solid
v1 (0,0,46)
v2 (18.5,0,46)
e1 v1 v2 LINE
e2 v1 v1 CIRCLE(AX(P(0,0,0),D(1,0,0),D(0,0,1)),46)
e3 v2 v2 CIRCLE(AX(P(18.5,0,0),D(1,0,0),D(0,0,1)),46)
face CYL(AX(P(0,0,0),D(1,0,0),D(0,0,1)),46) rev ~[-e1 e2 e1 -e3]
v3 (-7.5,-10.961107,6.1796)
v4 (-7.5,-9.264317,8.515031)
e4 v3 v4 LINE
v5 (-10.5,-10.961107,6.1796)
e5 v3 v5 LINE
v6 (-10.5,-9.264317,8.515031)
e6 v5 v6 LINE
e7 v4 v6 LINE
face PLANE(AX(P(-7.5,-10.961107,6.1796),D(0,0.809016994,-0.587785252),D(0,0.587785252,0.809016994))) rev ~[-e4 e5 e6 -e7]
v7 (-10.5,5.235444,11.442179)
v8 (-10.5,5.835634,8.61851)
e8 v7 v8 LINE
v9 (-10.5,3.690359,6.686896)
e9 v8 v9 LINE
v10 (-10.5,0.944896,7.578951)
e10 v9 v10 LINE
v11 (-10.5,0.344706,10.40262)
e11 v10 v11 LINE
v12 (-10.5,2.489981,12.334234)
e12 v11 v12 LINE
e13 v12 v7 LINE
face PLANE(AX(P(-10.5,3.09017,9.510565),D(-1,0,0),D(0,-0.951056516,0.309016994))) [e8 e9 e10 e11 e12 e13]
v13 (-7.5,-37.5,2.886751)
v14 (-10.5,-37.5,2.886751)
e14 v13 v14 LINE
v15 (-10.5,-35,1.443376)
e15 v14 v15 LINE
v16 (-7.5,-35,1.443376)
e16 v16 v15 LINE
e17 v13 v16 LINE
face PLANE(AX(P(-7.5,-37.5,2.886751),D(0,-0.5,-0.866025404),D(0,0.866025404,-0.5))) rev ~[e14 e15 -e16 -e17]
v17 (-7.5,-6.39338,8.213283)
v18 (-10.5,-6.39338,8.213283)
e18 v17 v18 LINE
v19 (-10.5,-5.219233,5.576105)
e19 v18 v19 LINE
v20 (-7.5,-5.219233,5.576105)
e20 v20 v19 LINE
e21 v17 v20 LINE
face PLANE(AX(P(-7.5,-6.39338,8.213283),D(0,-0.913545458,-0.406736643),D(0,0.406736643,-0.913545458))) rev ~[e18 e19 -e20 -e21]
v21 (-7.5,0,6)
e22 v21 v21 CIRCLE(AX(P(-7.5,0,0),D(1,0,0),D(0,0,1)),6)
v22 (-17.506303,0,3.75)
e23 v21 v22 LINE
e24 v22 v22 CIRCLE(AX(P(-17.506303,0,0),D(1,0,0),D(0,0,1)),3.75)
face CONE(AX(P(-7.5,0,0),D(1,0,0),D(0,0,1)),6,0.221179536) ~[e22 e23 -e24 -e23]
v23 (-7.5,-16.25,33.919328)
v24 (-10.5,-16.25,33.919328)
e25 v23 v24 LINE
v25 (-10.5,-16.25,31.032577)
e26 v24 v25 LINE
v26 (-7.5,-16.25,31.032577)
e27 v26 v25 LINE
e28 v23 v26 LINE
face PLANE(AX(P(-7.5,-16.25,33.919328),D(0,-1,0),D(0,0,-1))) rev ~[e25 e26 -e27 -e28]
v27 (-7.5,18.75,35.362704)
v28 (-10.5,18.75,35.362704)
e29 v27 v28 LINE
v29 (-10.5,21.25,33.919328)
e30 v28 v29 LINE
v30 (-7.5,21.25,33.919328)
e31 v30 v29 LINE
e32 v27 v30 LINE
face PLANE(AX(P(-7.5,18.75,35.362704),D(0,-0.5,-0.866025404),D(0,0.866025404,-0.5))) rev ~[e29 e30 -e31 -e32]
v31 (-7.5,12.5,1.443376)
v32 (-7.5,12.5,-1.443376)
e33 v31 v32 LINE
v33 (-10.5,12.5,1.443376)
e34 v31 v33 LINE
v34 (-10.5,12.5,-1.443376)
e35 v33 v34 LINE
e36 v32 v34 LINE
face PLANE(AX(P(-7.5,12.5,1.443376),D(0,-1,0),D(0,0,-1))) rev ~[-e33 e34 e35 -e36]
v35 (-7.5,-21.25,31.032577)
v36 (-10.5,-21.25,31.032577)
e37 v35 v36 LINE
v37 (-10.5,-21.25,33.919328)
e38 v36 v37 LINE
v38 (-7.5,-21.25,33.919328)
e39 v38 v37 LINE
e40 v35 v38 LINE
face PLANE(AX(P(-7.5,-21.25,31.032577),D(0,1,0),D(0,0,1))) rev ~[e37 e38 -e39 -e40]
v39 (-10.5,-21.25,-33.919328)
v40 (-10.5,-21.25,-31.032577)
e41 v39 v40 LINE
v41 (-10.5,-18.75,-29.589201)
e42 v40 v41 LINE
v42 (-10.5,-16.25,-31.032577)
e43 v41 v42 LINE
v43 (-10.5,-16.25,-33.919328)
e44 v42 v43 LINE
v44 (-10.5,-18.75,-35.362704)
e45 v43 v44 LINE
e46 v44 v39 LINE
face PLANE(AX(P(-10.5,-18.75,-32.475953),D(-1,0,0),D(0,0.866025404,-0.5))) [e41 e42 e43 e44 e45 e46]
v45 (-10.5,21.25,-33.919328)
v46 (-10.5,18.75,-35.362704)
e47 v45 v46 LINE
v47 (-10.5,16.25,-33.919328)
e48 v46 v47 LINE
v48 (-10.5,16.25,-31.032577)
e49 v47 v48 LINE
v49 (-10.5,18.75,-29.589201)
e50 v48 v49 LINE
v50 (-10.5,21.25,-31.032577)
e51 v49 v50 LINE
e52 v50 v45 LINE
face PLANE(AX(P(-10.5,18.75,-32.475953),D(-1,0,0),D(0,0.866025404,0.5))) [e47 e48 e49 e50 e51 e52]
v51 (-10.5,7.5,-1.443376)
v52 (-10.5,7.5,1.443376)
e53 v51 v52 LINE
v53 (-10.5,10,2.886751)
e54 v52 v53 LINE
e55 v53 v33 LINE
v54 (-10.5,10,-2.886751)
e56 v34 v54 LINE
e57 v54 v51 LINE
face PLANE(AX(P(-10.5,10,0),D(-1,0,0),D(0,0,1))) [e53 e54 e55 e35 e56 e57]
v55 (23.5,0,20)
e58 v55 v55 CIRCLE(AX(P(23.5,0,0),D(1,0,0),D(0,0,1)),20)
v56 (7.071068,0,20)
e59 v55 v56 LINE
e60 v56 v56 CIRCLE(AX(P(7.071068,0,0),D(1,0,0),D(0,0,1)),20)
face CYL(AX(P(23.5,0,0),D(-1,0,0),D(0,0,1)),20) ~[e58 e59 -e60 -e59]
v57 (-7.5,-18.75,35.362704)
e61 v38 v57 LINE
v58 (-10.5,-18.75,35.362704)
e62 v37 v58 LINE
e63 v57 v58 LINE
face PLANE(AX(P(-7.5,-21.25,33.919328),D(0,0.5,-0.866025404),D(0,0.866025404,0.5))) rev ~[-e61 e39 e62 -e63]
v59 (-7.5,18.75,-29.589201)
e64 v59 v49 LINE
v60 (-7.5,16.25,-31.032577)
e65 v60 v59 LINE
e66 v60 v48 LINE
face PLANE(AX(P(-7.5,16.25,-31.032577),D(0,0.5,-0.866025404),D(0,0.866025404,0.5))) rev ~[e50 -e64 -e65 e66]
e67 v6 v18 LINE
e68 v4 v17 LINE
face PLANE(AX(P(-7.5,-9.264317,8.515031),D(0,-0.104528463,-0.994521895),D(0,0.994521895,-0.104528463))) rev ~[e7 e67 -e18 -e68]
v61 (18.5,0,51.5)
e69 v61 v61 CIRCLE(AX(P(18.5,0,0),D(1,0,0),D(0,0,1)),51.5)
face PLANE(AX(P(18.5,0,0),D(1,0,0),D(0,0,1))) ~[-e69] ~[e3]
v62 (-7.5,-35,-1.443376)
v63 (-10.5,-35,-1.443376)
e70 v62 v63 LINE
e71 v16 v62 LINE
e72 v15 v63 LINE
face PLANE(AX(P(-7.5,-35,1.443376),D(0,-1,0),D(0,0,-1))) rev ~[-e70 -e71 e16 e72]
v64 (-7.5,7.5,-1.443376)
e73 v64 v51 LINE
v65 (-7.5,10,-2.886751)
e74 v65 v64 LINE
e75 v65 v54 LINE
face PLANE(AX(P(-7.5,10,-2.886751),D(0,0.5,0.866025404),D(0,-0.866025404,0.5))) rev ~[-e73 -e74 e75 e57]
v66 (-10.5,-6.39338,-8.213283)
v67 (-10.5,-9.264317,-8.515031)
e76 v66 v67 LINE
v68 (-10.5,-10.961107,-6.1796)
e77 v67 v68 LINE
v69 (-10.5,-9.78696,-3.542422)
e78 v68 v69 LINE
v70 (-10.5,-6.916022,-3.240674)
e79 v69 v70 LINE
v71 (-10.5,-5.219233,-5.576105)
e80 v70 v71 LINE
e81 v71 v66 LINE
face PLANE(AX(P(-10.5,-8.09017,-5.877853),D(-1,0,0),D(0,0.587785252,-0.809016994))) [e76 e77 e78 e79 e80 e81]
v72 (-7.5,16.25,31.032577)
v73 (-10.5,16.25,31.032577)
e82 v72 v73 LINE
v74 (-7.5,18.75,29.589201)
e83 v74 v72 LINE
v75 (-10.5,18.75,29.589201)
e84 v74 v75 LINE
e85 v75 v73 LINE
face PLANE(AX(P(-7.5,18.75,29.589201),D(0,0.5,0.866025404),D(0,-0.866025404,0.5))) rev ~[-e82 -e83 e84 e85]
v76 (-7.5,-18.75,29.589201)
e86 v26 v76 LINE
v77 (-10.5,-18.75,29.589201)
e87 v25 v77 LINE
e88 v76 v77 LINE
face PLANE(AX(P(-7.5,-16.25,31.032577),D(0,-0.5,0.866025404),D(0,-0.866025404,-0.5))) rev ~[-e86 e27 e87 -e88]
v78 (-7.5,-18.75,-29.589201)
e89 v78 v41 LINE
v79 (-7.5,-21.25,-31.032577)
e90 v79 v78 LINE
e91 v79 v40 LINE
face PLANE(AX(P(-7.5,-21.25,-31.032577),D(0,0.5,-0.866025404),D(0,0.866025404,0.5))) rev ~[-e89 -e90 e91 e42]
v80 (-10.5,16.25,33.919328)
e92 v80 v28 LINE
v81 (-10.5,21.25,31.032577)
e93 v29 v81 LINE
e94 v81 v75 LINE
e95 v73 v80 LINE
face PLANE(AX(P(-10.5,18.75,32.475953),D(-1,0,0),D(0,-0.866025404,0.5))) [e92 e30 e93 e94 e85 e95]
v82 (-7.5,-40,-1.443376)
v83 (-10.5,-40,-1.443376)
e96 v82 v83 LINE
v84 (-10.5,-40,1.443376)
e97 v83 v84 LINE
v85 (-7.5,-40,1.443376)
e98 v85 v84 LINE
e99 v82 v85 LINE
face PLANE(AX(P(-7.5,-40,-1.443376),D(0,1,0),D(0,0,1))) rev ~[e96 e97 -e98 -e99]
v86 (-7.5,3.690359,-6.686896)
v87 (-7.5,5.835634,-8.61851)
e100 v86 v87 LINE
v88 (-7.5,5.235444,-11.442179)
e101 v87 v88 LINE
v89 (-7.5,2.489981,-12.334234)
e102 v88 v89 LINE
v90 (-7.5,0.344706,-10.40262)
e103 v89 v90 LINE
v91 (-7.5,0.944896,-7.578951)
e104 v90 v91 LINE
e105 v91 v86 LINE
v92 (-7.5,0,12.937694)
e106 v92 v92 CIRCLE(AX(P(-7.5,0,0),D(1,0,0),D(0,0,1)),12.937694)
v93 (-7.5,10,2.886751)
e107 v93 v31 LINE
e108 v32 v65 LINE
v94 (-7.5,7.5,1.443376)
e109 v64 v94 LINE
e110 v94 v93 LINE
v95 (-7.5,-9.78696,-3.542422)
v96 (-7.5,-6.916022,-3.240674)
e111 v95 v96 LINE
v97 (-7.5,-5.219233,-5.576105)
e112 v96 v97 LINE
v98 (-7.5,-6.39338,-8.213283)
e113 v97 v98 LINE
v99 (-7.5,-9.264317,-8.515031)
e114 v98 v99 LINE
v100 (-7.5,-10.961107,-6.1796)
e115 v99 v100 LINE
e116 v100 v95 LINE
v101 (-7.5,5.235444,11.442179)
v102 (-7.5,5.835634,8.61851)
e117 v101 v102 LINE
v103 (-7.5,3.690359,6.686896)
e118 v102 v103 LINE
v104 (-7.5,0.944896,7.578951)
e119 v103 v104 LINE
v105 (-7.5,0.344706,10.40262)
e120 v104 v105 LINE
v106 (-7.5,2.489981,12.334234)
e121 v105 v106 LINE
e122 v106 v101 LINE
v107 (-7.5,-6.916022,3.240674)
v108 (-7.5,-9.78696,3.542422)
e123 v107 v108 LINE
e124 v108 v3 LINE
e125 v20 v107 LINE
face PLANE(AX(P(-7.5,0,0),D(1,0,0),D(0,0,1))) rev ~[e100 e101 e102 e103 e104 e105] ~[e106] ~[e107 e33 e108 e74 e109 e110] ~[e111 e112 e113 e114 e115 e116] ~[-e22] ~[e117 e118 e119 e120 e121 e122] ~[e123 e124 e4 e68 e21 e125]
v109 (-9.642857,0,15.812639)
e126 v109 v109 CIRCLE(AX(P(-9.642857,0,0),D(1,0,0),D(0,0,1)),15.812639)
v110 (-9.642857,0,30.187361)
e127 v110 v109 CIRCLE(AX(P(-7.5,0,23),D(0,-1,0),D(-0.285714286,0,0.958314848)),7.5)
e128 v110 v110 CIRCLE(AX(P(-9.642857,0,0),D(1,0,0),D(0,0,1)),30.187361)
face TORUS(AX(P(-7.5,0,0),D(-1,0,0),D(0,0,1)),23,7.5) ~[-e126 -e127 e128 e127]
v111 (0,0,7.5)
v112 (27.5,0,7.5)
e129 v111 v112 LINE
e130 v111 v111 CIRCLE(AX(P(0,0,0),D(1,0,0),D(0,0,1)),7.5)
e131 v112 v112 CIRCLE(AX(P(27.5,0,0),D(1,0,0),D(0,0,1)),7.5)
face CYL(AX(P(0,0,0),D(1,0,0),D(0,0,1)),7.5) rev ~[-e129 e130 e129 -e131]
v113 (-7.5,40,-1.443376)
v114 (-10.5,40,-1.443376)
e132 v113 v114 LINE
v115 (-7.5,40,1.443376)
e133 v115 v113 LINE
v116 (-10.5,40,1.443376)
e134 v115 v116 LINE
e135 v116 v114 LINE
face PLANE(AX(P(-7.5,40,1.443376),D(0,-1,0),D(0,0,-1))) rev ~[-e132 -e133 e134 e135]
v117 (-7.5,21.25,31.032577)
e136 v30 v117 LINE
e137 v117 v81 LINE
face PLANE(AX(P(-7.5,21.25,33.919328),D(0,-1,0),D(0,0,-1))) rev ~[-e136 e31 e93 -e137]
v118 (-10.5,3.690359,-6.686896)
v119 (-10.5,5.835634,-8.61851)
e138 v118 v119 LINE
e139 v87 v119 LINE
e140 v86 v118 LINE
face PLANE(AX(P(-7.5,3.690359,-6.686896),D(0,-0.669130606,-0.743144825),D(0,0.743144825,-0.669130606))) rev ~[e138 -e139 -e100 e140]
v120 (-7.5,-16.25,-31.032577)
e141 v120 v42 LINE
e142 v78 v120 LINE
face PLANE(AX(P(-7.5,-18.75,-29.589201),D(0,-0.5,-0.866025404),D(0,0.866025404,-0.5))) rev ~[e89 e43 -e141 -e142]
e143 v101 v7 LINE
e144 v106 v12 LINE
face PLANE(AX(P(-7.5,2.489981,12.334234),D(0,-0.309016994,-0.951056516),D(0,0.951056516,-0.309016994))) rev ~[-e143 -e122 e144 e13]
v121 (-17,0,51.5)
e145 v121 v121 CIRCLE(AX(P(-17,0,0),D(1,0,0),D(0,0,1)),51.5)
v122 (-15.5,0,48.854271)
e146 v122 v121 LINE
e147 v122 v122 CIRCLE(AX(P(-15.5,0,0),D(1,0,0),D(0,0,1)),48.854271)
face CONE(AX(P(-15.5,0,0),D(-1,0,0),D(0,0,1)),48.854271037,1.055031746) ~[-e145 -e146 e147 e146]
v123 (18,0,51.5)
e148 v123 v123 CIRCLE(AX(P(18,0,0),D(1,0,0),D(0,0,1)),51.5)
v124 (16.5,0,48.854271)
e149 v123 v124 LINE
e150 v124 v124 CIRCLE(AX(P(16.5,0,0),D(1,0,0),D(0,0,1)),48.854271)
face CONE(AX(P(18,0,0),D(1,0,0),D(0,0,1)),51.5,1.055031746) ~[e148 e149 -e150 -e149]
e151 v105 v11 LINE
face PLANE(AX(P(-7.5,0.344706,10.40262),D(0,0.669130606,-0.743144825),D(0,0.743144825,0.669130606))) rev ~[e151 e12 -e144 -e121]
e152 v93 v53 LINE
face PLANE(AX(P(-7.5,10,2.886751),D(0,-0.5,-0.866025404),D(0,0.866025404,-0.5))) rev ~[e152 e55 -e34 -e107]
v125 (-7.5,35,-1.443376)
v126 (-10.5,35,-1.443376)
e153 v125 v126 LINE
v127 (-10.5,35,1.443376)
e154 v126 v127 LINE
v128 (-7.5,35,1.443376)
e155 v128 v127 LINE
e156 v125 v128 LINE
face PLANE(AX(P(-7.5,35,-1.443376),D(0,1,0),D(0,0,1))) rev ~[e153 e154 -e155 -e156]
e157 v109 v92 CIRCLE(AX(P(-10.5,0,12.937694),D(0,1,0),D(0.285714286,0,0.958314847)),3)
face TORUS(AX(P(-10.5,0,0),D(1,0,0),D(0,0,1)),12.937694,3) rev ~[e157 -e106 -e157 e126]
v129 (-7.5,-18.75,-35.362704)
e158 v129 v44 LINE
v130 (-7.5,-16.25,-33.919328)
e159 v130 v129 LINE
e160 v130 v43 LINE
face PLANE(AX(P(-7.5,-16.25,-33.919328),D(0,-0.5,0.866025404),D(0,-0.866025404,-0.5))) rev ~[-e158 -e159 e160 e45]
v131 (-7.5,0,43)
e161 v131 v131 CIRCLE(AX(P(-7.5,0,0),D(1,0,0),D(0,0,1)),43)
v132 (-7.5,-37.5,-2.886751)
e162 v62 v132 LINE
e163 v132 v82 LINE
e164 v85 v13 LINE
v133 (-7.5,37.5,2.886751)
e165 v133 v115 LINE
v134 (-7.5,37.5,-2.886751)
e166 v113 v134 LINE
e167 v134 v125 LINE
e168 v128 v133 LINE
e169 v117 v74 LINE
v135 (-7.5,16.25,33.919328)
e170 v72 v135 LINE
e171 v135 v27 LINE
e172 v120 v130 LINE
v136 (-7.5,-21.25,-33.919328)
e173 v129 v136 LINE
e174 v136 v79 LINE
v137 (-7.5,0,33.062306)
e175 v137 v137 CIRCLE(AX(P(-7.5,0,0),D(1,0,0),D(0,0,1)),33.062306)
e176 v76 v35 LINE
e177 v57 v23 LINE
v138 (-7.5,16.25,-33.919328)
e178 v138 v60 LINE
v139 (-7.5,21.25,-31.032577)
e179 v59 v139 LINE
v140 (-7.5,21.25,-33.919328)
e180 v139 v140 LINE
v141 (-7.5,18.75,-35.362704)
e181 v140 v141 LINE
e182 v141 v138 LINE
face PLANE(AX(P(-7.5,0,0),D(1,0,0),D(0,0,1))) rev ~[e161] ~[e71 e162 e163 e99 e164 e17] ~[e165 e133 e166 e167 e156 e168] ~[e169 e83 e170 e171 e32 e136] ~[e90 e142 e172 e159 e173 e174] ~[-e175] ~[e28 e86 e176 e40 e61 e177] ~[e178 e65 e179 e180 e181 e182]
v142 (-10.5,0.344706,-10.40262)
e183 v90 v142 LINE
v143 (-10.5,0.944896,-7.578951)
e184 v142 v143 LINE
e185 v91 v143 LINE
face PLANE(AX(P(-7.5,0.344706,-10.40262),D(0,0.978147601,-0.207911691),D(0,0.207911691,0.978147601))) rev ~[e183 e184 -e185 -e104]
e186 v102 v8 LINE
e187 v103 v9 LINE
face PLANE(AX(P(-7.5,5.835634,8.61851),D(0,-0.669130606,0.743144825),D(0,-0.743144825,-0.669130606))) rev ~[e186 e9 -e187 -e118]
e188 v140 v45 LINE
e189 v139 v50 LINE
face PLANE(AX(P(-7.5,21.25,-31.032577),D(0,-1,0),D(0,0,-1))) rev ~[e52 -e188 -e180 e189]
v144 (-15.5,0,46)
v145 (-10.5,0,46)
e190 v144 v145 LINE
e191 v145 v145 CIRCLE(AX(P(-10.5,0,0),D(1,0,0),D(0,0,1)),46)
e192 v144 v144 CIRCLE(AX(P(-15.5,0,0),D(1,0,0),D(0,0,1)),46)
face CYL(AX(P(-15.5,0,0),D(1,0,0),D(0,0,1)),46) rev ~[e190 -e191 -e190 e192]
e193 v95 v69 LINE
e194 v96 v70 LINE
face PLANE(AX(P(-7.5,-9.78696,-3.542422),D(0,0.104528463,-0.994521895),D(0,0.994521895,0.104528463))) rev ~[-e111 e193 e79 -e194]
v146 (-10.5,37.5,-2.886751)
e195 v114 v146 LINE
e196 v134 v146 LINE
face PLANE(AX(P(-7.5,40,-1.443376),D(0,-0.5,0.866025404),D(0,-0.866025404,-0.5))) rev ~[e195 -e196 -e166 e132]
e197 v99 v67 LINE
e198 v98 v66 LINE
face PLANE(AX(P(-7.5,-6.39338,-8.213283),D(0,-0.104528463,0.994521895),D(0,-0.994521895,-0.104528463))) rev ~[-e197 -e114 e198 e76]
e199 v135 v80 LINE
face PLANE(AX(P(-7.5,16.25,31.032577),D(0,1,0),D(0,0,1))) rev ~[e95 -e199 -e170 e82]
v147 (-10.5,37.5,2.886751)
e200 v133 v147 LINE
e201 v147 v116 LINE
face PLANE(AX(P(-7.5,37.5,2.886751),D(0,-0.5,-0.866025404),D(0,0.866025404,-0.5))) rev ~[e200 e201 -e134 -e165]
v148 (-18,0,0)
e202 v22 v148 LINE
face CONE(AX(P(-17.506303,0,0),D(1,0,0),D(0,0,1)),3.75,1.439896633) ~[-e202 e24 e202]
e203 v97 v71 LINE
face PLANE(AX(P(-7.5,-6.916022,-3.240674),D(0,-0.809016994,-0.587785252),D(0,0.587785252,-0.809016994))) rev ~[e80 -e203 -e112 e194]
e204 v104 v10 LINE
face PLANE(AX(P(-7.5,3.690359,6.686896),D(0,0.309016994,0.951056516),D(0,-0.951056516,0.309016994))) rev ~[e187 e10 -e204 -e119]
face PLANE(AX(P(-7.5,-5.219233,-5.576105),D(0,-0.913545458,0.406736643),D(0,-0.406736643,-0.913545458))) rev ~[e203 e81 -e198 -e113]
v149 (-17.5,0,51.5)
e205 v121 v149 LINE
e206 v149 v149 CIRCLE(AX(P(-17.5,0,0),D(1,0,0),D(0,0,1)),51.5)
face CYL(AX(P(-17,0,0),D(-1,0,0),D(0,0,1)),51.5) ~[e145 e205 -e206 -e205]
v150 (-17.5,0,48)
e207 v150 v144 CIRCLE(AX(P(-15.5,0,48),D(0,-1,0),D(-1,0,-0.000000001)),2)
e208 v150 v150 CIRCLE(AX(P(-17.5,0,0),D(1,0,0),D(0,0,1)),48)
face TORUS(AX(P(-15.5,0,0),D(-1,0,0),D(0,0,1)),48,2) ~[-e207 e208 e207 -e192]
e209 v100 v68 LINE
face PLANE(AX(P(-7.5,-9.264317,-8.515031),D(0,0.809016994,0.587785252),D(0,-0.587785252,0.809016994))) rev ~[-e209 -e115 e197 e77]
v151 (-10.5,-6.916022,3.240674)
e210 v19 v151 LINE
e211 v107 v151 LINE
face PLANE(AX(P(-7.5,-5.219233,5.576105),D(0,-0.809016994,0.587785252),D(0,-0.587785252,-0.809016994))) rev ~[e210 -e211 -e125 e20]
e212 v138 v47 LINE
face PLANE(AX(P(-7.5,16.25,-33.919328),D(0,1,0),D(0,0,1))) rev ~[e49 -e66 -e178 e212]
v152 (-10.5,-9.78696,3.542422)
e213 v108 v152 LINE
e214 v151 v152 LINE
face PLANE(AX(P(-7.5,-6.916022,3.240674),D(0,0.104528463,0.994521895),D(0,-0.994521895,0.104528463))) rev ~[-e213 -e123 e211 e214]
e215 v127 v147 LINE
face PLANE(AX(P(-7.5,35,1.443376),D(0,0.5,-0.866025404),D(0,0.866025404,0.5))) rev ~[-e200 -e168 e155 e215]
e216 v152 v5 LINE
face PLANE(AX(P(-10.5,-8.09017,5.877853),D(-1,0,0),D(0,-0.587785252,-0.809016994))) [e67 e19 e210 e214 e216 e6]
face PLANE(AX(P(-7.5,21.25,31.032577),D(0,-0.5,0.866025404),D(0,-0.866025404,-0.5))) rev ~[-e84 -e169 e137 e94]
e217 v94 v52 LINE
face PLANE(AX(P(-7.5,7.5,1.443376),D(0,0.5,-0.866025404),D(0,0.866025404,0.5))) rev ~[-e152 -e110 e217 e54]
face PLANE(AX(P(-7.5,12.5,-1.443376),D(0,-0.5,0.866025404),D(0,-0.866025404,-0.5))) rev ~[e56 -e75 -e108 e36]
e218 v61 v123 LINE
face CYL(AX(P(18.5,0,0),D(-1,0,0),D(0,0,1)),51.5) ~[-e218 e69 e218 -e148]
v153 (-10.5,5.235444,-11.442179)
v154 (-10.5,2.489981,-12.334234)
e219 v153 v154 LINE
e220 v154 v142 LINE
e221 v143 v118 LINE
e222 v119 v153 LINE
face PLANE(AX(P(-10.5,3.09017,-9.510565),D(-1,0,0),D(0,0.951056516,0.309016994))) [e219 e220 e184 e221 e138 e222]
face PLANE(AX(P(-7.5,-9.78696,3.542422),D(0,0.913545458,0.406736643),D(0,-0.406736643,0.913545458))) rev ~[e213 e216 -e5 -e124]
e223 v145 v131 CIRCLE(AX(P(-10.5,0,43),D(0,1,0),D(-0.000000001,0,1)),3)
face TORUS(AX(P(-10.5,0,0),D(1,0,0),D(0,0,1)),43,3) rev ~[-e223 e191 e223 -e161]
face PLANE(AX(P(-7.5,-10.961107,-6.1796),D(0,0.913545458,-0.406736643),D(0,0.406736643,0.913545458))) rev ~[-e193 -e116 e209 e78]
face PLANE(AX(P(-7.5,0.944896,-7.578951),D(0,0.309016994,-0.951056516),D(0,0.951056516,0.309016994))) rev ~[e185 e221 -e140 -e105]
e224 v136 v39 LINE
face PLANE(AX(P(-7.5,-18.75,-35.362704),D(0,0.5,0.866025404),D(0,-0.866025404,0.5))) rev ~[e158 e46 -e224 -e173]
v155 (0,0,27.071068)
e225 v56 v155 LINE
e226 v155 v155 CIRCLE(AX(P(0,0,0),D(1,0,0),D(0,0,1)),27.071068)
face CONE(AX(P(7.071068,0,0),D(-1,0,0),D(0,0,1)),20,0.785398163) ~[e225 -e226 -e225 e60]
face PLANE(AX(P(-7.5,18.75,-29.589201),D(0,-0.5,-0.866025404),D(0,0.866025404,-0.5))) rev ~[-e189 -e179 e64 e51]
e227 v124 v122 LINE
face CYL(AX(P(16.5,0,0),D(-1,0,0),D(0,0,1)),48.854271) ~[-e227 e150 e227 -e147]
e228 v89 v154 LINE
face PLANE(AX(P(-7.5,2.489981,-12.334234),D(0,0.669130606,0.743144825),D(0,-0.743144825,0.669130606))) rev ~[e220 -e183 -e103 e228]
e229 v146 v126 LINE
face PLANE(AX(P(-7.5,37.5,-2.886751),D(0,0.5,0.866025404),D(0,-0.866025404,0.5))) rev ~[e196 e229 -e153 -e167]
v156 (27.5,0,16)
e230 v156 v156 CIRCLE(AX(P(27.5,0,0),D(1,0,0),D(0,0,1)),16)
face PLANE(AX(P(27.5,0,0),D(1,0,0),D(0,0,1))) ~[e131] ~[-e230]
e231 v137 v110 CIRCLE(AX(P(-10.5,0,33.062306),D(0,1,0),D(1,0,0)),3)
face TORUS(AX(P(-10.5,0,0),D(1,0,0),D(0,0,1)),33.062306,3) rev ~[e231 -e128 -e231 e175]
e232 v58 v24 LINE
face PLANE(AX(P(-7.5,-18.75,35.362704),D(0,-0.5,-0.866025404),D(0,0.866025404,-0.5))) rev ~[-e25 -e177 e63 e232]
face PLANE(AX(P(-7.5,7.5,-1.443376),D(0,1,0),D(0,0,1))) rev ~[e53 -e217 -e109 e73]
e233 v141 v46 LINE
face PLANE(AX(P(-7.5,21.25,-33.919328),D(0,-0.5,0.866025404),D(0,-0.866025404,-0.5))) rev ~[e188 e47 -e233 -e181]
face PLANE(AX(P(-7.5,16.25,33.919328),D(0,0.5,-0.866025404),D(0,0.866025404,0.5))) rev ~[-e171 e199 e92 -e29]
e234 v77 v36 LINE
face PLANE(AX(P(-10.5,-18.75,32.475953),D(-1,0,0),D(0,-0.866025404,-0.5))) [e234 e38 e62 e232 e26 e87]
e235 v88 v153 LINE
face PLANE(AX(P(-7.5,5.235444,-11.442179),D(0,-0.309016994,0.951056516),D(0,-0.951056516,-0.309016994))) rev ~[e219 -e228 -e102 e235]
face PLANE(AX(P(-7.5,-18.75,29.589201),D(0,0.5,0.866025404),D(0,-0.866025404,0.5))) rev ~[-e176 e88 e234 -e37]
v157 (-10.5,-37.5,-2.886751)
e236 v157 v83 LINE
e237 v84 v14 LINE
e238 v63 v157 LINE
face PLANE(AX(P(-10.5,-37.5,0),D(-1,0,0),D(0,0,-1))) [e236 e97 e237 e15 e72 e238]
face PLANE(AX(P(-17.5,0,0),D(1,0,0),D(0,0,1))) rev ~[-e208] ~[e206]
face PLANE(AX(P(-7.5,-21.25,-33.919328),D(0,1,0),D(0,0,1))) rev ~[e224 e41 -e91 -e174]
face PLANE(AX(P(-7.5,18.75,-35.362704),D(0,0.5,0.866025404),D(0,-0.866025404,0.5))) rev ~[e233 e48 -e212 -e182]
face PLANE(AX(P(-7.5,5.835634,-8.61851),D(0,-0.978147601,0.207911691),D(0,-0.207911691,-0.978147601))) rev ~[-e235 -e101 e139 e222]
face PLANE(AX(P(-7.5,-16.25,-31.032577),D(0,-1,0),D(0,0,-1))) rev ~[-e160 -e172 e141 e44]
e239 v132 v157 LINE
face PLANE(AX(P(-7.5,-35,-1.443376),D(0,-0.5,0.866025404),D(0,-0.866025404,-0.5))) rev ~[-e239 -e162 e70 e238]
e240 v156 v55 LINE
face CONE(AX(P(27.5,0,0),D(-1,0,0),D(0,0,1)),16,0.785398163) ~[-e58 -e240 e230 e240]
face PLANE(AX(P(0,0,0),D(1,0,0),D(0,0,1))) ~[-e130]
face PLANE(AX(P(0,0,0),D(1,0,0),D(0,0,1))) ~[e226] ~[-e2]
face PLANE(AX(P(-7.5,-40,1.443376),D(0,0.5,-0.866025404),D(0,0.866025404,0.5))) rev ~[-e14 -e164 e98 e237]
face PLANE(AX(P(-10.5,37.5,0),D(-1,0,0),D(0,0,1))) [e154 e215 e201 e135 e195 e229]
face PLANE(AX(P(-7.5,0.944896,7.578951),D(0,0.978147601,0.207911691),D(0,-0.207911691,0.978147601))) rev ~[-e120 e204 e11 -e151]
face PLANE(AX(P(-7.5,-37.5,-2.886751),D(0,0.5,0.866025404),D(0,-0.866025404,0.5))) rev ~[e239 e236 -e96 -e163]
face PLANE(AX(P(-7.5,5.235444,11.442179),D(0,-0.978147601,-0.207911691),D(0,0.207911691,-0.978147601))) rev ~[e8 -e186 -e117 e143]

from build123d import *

# Parameters (mm, degrees)
BOSS_EXTRUDE1_DEPTH = 3
CIRPATTERN1_COUNT   = 6
BOSS_EXTRUDE2_DEPTH = 3
CIRPATTERN3_COUNT   = 5


with BuildPart() as part:
    # Sketch1 → Revolve1 (revolve)
    with BuildSketch(Plane.XY, mode=Mode.PRIVATE) as revolve1_sk:
        with BuildLine():
            Line((-7.5, 6), (-17.506303134, 3.75))
            Line((-17.506303134, 3.75), (-18, 0))
            Line((-18, 0), (0, 0))
            Line((0, 0), (0, 7.5))
            Line((0, 7.5), (27.5, 7.5))
            Line((27.5, 7.5), (27.5, 16))
            Line((27.5, 16), (23.5, 20))
            Line((23.5, 20), (7.071067812, 20))
            Line((7.071067812, 20), (0, 27.071067812))
            Line((0, 27.071067812), (0, 46))
            Line((0, 46), (18.5, 46))
            Line((18.5, 46), (18.5, 51.5))
            Line((18.5, 51.5), (18, 51.5))
            Line((18, 51.5), (16.5, 48.854271037))
            Line((16.5, 48.854271037), (-15.5, 48.854271037))
            Line((-15.5, 48.854271037), (-17, 51.5))
            Line((-17, 51.5), (-17.5, 51.5))
            Line((-17.5, 51.5), (-17.5, 48))
            ThreePointArc((-17.5, 48), (-16.914213562, 46.585786438), (-15.5, 46))
            Line((-15.5, 46), (-10.5, 46))
            ThreePointArc((-10.5, 46), (-8.378679656, 45.121320344), (-7.5, 43))
            Line((-7.5, 43), (-7.5, 33.062305899))
            ThreePointArc((-7.5, 33.062305899), (-8.094648823, 31.269462985), (-9.642857143, 30.187361356))
            ThreePointArc((-9.642857143, 30.187361356), (-15, 23), (-9.642857143, 15.812638644))
            ThreePointArc((-9.642857143, 15.812638644), (-8.094648823, 14.730537015), (-7.5, 12.937694101))
            Line((-7.5, 12.937694101), (-7.5, 6))
        make_face()
    revolve(revolve1_sk.sketch.rotate(Axis((-18, 0, 0), (1, 0, 0)), 90), axis=Axis((-18, 0, 0), (1, 0, 0)))

    # Sketch2 → Boss-Extrude1 (add)
    with BuildSketch(Plane.ZY.offset(7.5)):
        Polygon((-2.886751346, 37.5), (-1.443375673, 35), (1.443375673, 35), (2.886751346, 37.5), (1.443375673, 40), (-1.443375673, 40), align=None)
    boss_extrude1 = extrude(amount=BOSS_EXTRUDE1_DEPTH)

    # CirPattern1: Boss-Extrude1 ×6 about axis
    cirpattern1_axis = Axis((0, 0, 0), (1, 0, 0))
    for i in range(1, CIRPATTERN1_COUNT):
        add(boss_extrude1.rotate(cirpattern1_axis, i * 360 / CIRPATTERN1_COUNT))

    # Sketch3 → Boss-Extrude2 (add)
    with BuildSketch(Plane.ZY.offset(7.5)):
        Polygon((-1.443375673, 12.5), (-2.886751346, 10), (-1.443375673, 7.5), (1.443375673, 7.5), (2.886751346, 10), (1.443375673, 12.5), align=None)
    boss_extrude2 = extrude(amount=BOSS_EXTRUDE2_DEPTH)

    # CirPattern3: Boss-Extrude2 ×5 about axis
    cirpattern3_axis = Axis((0, 0, 0), (1, 0, 0))
    for i in range(1, CIRPATTERN3_COUNT):
        add(boss_extrude2.rotate(cirpattern3_axis, i * 360 / CIRPATTERN3_COUNT))


solid = part.part
